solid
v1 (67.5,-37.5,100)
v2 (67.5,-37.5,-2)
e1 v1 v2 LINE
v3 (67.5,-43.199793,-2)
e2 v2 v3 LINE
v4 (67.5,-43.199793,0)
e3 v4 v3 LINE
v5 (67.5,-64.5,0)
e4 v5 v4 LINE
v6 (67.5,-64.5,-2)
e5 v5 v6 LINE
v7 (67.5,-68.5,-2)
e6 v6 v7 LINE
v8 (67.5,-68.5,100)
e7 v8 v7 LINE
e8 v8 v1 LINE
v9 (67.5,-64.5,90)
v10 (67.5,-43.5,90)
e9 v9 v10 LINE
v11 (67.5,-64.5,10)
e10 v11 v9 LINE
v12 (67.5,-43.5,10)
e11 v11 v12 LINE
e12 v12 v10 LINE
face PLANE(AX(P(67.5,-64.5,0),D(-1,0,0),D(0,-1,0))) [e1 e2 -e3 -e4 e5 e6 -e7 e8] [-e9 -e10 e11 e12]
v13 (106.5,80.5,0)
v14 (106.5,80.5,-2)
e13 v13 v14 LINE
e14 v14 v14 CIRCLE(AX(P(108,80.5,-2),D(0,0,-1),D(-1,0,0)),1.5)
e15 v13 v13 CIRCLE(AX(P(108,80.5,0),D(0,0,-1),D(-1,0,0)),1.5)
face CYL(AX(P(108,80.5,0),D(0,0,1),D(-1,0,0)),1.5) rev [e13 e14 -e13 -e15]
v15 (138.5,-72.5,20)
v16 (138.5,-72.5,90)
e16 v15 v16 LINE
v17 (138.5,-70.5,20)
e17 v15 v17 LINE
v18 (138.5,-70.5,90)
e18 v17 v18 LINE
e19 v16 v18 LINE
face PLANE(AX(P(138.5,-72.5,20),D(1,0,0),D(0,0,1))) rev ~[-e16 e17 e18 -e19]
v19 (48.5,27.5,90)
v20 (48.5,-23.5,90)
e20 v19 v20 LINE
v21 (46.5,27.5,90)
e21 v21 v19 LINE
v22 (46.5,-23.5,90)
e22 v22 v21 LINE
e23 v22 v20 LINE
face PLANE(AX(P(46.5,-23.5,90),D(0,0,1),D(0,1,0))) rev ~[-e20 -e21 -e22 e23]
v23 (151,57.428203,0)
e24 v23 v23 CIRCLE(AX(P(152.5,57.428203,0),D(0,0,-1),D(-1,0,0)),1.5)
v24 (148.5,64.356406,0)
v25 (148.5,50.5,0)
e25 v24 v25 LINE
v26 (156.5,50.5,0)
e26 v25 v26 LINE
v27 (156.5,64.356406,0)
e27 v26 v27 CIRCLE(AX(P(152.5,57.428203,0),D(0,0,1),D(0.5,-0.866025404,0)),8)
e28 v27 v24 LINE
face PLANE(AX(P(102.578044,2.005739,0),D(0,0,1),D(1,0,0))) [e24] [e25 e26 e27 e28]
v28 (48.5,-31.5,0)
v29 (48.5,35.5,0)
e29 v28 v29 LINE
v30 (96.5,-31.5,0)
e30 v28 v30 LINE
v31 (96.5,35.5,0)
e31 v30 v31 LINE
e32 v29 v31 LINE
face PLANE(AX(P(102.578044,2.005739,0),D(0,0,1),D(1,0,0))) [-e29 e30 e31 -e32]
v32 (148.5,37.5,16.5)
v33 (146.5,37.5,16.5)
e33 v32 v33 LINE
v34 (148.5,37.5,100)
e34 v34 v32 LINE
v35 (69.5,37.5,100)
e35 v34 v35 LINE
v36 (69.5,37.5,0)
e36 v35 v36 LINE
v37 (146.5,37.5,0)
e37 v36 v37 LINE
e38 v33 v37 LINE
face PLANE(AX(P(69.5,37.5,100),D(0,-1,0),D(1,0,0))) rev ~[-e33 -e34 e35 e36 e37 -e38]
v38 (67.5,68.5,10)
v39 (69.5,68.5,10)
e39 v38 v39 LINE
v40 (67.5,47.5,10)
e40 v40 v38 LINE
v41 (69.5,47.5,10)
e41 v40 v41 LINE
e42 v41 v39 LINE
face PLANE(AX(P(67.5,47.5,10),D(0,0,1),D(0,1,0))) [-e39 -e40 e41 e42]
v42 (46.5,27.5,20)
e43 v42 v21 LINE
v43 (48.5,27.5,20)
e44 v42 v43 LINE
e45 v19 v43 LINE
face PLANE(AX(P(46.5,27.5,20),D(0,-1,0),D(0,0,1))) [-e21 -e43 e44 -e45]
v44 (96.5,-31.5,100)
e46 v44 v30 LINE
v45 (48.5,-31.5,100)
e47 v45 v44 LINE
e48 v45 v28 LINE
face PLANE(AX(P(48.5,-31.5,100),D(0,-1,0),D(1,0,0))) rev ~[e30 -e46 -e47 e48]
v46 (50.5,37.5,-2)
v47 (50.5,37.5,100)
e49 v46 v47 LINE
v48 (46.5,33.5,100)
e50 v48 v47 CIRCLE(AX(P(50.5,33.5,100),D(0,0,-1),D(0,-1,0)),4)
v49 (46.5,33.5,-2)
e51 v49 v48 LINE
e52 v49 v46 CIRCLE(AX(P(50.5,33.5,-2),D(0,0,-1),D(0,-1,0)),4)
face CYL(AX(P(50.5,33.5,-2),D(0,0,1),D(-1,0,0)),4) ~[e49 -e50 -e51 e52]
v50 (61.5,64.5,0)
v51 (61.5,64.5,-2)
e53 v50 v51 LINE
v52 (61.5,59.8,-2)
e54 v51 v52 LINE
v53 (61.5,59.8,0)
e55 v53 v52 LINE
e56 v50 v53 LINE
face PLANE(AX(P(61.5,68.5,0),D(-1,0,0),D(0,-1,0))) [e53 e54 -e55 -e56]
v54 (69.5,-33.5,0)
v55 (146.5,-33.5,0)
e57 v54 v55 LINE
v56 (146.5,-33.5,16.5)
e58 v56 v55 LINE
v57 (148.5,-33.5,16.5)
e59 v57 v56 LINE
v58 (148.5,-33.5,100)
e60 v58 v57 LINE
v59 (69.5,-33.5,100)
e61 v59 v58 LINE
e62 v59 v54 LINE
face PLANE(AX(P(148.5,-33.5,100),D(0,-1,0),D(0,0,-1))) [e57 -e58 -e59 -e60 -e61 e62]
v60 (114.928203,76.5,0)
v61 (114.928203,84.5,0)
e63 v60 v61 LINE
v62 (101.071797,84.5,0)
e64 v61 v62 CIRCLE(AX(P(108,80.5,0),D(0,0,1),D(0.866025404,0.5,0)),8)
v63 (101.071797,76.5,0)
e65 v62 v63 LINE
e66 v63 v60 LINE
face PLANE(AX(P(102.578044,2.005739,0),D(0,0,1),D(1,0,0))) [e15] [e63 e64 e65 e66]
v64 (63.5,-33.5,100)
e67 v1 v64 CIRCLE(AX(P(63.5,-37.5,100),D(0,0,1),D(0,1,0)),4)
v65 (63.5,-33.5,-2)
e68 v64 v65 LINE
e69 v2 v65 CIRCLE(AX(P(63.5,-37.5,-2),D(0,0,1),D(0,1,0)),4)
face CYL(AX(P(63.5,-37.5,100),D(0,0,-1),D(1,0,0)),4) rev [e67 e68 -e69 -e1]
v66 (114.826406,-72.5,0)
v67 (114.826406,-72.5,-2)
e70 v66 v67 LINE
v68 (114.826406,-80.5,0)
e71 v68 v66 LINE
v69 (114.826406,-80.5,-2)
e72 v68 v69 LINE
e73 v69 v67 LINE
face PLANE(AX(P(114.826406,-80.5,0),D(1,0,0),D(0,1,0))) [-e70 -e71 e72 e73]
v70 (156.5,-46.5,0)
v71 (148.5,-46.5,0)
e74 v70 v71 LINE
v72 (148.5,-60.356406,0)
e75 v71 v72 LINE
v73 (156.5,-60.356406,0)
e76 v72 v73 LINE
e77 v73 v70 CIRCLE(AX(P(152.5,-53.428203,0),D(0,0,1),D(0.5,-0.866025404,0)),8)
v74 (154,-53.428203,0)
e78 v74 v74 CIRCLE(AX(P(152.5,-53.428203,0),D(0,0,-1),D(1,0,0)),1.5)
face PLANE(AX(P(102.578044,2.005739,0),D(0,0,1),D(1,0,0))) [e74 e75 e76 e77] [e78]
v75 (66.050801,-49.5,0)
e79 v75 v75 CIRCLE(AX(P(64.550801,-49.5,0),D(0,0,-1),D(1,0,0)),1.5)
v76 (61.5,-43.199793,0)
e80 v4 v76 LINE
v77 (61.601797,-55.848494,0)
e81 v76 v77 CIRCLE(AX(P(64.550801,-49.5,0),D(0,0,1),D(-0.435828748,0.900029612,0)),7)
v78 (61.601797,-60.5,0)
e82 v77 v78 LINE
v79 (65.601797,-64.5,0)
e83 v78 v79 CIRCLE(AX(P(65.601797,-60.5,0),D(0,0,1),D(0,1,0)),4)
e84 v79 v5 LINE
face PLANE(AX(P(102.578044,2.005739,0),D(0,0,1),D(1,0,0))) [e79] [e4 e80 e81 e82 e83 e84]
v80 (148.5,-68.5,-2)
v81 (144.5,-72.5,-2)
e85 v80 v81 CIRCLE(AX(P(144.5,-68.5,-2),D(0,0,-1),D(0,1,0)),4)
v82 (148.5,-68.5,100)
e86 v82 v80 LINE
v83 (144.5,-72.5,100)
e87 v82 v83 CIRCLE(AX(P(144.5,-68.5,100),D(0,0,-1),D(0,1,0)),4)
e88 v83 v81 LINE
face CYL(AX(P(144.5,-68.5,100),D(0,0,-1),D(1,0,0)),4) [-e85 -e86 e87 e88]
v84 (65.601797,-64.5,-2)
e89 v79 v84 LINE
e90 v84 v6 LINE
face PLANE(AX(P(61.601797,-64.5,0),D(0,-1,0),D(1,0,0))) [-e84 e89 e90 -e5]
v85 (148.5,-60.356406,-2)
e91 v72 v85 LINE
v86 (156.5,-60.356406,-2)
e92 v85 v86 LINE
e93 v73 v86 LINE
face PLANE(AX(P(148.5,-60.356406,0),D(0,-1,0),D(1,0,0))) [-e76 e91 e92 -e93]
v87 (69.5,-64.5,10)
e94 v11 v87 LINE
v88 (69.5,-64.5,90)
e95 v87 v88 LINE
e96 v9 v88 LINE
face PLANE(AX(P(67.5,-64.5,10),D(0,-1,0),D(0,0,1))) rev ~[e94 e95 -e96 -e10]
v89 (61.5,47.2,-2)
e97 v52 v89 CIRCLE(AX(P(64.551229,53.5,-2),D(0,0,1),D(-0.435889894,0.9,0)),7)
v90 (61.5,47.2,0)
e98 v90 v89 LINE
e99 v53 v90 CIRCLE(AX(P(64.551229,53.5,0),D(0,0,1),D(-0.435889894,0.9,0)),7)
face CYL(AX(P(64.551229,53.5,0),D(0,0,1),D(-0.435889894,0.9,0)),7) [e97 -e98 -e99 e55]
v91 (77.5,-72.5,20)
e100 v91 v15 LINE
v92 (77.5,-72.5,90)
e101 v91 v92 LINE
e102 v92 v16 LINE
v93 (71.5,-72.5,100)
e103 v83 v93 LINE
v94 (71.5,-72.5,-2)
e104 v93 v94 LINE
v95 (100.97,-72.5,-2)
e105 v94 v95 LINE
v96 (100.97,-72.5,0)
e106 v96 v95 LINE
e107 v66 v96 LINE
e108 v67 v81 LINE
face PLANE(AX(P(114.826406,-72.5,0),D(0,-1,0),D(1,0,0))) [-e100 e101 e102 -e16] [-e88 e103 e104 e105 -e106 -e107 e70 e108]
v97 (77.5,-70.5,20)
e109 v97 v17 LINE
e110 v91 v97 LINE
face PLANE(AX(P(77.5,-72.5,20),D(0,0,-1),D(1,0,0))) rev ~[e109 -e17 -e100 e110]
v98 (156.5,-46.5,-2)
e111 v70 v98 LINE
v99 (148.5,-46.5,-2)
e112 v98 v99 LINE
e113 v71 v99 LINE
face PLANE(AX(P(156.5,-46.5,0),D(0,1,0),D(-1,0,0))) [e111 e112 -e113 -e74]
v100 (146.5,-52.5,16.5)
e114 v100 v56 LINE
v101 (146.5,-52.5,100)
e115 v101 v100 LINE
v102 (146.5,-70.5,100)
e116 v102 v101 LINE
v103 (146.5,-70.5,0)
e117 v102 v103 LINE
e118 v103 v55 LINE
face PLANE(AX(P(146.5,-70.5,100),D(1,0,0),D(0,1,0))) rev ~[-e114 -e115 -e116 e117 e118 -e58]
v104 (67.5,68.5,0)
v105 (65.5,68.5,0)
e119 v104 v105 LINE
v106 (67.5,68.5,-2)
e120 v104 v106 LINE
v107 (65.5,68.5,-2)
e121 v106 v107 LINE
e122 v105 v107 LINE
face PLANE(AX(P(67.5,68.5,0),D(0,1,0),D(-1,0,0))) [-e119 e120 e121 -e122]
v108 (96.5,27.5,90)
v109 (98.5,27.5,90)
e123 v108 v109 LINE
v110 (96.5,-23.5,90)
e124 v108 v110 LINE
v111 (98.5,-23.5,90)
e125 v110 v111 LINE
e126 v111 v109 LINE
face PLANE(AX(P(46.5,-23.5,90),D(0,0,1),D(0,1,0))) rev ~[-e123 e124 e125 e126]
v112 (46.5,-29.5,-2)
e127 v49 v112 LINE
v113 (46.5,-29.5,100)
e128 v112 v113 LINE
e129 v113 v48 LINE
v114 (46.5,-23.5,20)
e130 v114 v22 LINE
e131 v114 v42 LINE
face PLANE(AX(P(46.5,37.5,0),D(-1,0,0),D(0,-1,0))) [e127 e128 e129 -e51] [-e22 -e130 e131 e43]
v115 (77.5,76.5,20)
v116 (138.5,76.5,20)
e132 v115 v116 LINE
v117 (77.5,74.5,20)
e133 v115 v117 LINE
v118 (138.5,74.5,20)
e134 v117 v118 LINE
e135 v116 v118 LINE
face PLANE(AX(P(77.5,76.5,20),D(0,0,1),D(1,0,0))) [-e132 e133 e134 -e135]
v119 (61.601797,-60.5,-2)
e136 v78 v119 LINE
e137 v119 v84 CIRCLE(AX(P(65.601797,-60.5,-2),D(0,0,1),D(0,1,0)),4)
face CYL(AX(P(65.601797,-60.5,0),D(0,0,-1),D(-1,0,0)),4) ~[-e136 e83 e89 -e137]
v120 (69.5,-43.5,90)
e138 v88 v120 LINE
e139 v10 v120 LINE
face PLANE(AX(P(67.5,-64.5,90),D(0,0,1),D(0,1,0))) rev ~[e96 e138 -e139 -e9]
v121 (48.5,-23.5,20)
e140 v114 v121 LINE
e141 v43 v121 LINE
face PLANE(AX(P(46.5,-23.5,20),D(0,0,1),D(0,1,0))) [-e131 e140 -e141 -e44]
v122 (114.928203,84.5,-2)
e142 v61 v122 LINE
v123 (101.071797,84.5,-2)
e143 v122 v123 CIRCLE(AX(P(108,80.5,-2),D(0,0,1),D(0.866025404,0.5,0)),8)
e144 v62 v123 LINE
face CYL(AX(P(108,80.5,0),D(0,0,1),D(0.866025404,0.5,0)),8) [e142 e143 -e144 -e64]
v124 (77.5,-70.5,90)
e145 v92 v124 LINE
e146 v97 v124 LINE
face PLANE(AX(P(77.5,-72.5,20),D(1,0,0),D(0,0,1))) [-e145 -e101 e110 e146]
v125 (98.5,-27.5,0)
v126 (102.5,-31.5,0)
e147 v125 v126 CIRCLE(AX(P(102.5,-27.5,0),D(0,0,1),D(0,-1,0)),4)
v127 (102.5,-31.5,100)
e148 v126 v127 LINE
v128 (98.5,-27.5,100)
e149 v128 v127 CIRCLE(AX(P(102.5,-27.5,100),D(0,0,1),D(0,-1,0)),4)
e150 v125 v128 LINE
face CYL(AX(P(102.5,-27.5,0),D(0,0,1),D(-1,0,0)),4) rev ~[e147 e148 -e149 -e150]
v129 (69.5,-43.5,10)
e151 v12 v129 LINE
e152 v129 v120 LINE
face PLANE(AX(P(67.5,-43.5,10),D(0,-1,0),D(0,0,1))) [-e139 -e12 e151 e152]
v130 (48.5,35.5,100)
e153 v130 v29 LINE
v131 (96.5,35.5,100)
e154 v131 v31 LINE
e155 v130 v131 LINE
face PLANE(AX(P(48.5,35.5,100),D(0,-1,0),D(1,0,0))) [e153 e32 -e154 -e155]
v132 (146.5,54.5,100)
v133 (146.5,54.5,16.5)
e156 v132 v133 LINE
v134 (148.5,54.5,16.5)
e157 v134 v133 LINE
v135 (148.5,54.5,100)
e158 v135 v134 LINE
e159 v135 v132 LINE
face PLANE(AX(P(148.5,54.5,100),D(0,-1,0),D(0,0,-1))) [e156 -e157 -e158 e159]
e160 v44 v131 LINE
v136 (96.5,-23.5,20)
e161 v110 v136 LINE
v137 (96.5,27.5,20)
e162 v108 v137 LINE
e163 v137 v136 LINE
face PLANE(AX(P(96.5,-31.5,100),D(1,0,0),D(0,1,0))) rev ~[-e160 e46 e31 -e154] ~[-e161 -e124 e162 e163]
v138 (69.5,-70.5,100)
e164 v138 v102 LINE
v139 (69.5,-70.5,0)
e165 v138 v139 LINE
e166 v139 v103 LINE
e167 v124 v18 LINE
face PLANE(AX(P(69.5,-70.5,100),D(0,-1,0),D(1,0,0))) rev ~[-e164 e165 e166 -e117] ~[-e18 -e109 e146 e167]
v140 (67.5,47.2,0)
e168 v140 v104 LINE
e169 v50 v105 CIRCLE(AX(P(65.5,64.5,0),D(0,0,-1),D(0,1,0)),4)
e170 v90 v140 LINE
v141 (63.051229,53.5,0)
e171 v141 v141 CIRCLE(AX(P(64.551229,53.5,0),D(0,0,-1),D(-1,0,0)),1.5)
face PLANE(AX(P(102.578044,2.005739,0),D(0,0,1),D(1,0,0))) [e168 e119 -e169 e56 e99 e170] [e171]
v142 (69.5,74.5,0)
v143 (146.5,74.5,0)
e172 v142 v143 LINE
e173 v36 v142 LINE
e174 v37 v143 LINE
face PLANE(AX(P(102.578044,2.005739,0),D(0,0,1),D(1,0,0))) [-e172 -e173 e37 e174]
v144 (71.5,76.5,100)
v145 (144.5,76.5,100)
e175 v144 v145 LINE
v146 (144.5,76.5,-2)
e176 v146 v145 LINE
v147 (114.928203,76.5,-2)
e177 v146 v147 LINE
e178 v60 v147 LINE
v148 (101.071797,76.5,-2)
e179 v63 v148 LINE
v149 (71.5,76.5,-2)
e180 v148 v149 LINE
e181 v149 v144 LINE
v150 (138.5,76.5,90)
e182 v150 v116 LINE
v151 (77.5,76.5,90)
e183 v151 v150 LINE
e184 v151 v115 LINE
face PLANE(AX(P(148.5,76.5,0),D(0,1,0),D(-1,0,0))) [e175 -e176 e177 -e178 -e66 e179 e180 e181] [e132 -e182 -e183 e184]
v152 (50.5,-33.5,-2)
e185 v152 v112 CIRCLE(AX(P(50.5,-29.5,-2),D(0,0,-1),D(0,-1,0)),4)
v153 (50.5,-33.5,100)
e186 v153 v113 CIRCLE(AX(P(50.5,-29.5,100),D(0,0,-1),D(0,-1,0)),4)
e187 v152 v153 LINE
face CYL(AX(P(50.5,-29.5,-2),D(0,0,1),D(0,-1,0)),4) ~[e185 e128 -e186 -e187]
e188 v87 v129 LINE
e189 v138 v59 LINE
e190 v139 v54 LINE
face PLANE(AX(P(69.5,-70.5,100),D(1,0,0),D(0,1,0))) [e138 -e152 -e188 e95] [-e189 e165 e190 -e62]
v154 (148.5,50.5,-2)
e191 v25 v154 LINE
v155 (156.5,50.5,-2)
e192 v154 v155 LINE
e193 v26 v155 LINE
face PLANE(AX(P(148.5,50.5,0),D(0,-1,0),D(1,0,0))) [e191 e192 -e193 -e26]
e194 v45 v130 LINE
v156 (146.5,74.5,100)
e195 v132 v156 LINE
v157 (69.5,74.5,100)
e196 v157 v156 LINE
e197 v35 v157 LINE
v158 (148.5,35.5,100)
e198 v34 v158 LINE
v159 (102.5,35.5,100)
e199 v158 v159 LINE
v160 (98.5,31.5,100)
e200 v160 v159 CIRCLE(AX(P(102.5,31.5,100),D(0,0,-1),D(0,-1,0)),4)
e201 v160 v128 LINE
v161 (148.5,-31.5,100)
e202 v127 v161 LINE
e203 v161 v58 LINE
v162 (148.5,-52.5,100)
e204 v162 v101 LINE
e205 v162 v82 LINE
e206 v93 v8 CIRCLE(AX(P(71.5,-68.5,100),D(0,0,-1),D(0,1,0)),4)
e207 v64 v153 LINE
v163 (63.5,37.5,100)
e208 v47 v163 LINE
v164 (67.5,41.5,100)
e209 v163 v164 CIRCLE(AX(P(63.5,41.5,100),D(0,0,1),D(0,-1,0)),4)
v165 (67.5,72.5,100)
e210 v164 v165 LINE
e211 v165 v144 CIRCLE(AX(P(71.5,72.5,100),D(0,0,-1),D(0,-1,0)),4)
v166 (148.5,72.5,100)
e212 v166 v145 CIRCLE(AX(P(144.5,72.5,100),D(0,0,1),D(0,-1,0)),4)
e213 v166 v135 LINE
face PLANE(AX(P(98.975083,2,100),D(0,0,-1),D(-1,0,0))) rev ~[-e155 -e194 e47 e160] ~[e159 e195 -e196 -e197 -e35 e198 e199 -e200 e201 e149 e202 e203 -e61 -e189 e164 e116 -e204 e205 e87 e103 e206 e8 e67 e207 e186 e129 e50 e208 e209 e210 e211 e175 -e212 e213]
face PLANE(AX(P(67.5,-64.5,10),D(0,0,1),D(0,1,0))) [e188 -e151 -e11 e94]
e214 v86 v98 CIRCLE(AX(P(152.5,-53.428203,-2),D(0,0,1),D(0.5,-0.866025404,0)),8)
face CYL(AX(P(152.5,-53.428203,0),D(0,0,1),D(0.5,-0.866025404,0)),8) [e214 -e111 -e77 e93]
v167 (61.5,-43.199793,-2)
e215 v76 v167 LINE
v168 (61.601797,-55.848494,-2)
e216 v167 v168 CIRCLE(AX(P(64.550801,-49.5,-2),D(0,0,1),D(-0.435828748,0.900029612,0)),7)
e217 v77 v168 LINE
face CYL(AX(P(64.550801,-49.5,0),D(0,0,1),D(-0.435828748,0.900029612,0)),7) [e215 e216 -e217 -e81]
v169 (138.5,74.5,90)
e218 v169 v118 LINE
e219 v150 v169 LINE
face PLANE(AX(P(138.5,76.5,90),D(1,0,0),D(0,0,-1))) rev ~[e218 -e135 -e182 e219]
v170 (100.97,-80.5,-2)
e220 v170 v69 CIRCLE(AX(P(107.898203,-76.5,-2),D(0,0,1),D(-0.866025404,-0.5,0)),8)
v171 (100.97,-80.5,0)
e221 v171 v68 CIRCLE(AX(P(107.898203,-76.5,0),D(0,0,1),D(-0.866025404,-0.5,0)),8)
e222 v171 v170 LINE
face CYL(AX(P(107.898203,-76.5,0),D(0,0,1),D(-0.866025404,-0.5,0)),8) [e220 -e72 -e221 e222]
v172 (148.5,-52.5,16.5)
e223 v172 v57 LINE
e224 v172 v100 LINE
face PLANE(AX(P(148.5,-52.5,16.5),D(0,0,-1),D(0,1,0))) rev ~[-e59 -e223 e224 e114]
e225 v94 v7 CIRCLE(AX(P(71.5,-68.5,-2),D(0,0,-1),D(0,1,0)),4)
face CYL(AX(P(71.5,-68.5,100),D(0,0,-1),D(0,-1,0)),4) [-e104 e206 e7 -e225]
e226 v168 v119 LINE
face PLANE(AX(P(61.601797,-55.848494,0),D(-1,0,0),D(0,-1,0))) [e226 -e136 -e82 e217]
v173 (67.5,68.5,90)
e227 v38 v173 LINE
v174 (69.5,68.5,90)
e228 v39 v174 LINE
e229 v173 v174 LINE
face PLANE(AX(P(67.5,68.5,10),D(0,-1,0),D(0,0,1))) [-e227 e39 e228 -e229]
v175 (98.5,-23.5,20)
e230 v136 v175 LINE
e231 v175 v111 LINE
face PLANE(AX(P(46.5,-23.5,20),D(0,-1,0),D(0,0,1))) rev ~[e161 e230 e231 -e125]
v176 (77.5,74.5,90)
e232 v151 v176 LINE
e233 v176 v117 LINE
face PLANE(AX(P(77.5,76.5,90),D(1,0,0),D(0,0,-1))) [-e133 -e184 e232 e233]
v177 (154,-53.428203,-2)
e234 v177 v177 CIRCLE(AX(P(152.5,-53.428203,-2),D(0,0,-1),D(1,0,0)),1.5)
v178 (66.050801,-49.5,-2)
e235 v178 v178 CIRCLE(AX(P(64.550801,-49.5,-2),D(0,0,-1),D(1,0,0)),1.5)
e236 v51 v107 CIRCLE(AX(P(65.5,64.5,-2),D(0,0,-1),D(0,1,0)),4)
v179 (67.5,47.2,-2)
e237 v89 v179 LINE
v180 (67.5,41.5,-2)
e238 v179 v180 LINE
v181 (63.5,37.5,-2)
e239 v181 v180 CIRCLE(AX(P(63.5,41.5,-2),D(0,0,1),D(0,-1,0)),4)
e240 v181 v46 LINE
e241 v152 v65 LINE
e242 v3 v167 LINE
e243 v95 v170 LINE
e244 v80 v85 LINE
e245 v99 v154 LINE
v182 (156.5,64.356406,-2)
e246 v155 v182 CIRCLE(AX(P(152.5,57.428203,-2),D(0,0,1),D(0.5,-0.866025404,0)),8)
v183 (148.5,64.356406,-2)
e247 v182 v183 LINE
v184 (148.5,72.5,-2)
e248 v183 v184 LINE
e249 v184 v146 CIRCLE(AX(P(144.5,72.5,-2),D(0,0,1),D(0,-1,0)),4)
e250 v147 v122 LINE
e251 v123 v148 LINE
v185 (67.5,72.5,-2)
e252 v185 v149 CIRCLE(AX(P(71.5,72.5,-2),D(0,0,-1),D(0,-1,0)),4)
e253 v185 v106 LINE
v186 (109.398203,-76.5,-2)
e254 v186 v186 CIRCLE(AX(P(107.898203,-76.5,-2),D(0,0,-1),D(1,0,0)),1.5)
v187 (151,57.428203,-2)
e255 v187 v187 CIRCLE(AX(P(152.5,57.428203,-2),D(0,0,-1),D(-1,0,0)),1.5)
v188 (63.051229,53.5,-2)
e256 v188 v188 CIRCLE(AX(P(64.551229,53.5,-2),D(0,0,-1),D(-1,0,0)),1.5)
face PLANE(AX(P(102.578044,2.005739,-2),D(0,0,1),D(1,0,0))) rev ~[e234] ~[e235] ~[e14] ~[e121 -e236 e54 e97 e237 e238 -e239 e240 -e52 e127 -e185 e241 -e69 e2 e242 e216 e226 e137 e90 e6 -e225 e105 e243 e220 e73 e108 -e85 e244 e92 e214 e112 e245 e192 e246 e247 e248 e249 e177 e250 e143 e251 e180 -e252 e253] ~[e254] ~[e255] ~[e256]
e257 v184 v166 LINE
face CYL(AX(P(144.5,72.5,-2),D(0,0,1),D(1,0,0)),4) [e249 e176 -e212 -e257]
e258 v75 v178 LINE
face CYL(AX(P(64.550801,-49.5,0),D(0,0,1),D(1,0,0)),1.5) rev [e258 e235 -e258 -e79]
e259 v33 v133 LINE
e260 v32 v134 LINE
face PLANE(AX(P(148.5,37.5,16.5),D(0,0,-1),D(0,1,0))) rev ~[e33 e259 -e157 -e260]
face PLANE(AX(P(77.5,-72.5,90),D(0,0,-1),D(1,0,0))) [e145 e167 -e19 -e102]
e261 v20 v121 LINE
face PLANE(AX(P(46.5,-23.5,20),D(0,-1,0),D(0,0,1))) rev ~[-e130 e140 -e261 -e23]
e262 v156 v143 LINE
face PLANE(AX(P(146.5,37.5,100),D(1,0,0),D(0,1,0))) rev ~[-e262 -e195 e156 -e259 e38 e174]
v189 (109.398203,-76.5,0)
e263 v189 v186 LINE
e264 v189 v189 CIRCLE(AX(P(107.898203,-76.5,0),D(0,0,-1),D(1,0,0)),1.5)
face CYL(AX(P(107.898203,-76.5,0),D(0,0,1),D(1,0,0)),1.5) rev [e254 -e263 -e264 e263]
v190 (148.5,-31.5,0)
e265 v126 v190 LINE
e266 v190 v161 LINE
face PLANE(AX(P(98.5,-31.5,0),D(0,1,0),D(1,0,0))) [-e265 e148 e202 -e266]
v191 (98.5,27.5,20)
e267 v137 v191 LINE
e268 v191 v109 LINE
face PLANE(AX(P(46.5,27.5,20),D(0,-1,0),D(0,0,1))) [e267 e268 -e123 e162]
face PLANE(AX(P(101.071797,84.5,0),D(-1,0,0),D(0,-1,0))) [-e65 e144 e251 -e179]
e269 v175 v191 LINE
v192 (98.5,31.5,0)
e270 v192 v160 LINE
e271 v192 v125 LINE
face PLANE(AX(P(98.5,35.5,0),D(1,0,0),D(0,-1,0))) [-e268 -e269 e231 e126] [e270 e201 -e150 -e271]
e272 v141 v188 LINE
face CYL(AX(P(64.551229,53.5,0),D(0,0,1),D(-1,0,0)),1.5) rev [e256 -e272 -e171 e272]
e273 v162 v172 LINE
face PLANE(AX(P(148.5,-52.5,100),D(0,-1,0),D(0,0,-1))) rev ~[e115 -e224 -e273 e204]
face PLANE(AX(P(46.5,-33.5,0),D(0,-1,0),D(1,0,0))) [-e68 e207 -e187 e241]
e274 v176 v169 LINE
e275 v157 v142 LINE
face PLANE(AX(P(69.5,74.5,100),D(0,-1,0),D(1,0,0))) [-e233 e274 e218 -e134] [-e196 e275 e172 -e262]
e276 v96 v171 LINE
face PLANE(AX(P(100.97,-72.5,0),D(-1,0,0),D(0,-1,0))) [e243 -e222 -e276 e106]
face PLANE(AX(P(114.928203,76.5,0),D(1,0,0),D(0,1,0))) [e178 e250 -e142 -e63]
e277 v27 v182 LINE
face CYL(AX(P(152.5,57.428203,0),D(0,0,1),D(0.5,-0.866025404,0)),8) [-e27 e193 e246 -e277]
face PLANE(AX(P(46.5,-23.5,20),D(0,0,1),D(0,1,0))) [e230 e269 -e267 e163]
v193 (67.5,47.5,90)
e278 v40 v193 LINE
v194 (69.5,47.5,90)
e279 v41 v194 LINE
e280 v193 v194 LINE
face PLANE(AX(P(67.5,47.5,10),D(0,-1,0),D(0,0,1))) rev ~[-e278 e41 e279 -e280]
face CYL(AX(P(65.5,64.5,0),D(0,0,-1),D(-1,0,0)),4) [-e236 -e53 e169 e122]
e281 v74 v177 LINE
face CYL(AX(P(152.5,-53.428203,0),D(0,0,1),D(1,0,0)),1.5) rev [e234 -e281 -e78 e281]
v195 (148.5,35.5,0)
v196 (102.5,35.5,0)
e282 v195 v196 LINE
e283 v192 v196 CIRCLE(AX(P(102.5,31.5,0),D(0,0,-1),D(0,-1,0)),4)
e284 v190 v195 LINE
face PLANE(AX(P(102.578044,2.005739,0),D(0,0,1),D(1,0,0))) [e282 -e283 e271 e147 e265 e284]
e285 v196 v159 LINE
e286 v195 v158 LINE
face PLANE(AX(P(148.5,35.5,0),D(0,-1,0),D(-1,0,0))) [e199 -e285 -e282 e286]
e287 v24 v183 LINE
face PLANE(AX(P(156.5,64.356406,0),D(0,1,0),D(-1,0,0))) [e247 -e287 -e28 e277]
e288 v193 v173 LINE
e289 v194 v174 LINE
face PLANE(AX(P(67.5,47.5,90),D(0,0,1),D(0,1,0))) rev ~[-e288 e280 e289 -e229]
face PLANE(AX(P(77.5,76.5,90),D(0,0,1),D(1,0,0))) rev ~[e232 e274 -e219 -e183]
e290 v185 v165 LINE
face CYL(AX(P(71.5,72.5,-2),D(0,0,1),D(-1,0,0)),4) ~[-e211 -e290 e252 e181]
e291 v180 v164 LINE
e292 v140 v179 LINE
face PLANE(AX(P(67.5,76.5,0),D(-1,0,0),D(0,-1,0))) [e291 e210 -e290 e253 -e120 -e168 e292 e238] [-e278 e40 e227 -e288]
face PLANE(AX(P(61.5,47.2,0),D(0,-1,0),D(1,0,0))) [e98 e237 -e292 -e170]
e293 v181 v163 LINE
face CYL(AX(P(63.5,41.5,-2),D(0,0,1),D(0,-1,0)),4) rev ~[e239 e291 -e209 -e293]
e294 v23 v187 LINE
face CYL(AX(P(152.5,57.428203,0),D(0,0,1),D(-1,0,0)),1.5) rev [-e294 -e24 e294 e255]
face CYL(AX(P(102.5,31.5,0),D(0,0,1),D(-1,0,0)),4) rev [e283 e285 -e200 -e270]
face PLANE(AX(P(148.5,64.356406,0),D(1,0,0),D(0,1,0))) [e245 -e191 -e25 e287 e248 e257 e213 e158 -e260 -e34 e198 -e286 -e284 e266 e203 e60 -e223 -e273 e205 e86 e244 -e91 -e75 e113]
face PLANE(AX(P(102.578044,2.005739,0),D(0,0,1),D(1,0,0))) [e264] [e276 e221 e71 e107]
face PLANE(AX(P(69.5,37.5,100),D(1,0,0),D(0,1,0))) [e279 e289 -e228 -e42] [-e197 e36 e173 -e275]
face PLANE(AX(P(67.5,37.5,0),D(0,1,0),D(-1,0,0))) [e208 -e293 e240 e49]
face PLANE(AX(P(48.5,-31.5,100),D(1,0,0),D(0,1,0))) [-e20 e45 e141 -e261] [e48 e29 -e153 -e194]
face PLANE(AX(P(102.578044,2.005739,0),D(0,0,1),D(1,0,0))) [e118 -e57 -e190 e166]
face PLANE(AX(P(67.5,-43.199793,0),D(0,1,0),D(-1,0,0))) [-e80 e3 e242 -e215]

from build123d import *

# Parameters (mm, degrees)
BOSS_EXTRU_9_DEPTH       = 100
ESQUISSE31_W             = 77
ESQUISSE31_H             = 37
ESQUISSE31_W_2           = 48
ESQUISSE31_H_2           = 67
ENL_V_MAT_EXTRU_17_DEPTH = 100
ESQUISSE35_W             = 61
ESQUISSE35_H             = 70
ENL_V_MAT_EXTRU_20_DEPTH = 2
ESQUISSE37_W             = 70
ESQUISSE37_H             = 51
ENL_V_MAT_EXTRU_22_DEPTH = 52
ESQUISSE38_W             = 61
ESQUISSE38_H             = 70
ENL_V_MAT_EXTRU_23_DEPTH = 2
ESQUISSE36_W             = 80
ESQUISSE36_H             = 21
ENL_V_MAT_EXTRU_25_DEPTH = 2
ESQUISSE39_W             = 83.5
ESQUISSE39_H             = 17
ESQUISSE39_H_2           = 19
ENL_V_MAT_EXTRU_26_DEPTH = 2
ESQUISSE46_R             = 1.5
BOSS_EXTRU_10_DEPTH      = 2
CONG_59_R                = 4


with BuildPart() as part:
    # Esquisse27 → Boss.-Extru.9 (new body)
    with BuildSketch(Plane.XY):
        Polygon((148.5, -72.5), (67.5, -72.5), (67.5, -33.5), (46.5, -33.5), (46.5, 37.5), (67.5, 37.5), (67.5, 76.5), (148.5, 76.5), (148.5, 35.5), (98.5, 35.5), (98.5, -31.5), (148.5, -31.5), align=None)
    extrude(amount=BOSS_EXTRU_9_DEPTH)

    # Esquisse31 → Enlèv. mat.-Extru.17 (cut)
    with BuildSketch(Plane.XY.offset(100)):
        with Locations((108, 56)):
            Rectangle(ESQUISSE31_W, ESQUISSE31_H)
        with Locations((72.5, 2)):
            Rectangle(ESQUISSE31_W_2, ESQUISSE31_H_2)
        with Locations((108, -52)):
            Rectangle(ESQUISSE31_W, ESQUISSE31_H)
    extrude(amount=-ENL_V_MAT_EXTRU_17_DEPTH, mode=Mode.SUBTRACT)

    # Esquisse35 → Enlèv. mat.-Extru.20 (cut)
    with BuildSketch(Plane.XZ.offset(72.5)):
        with Locations((108, 55)):
            Rectangle(ESQUISSE35_W, ESQUISSE35_H)
    extrude(amount=-ENL_V_MAT_EXTRU_20_DEPTH, mode=Mode.SUBTRACT)

    # Esquisse37 → Enlèv. mat.-Extru.22 (cut)
    with BuildSketch(Plane.ZY.offset(-46.5)):
        with Locations((55, 2)):
            Rectangle(ESQUISSE37_W, ESQUISSE37_H)
    extrude(amount=-ENL_V_MAT_EXTRU_22_DEPTH, mode=Mode.SUBTRACT)

    # Esquisse38 → Enlèv. mat.-Extru.23 (cut)
    with BuildSketch(Plane(origin=(0, 76.5, 0), x_dir=(1, 0, 0), z_dir=(0, 1, 0))):
        with Locations((108, -55)):
            Rectangle(ESQUISSE38_W, ESQUISSE38_H)
    extrude(amount=-ENL_V_MAT_EXTRU_23_DEPTH, mode=Mode.SUBTRACT)

    # Esquisse36 → Enlèv. mat.-Extru.25 (cut)
    with BuildSketch(Plane.ZY.offset(-67.5)):
        with Locations((50, 58)):
            Rectangle(ESQUISSE36_W, ESQUISSE36_H)
        with Locations((50, -54)):
            Rectangle(ESQUISSE36_W, ESQUISSE36_H)
    extrude(amount=-ENL_V_MAT_EXTRU_25_DEPTH, mode=Mode.SUBTRACT)

    # Esquisse39 → Enlèv. mat.-Extru.26 (cut)
    with BuildSketch(Plane(origin=(148.5, 0, 0), x_dir=(0, 0, -1), z_dir=(1, 0, 0))):
        with Locations((-58.25, 46)):
            Rectangle(ESQUISSE39_W, ESQUISSE39_H)
        with Locations((-58.25, -43)):
            Rectangle(ESQUISSE39_W, ESQUISSE39_H_2)
    extrude(amount=-ENL_V_MAT_EXTRU_26_DEPTH, mode=Mode.SUBTRACT)

    # Esquisse46 → Boss.-Extru.10 (add)
    with BuildSketch(Plane(origin=(0, 0, 0), x_dir=(-1, 0, 0), z_dir=(0, 0, -1))):
        with BuildLine():
            Line((-148.5, 64.356406461), (-148.5, 76.5))
            Line((-148.5, 76.5), (-114.92820323, 76.5))
            Line((-114.92820323, 76.5), (-114.92820323, 84.5))
            ThreePointArc((-114.92820323, 84.5), (-108, 88.5), (-101.07179677, 84.5))
            Line((-101.07179677, 84.5), (-101.07179677, 76.5))
            Line((-101.07179677, 76.5), (-67.5, 76.5))
            Line((-67.5, 76.5), (-67.5, 68.5))
            Line((-67.5, 68.5), (-61.5, 68.5))
            Line((-61.5, 68.5), (-61.5, 59.8))
            ThreePointArc((-61.5, 59.8), (-57.55122926, 53.5), (-61.5, 47.2))
            Line((-61.5, 47.2), (-67.5, 47.2))
            Line((-67.5, 47.2), (-67.5, 37.5))
            Line((-67.5, 37.5), (-46.5, 37.5))
            Line((-46.5, 37.5), (-46.5, -33.5))
            Line((-46.5, -33.5), (-67.5, -33.5))
            Line((-67.5, -33.5), (-67.5, -43.199792715))
            Line((-67.5, -43.199792715), (-61.5, -43.199792715))
            ThreePointArc((-61.5, -43.199792715), (-57.551027919, -49.556334189), (-61.60179677, -55.848493732))
            Line((-61.60179677, -55.848493732), (-61.60179677, -64.5))
            Line((-61.60179677, -64.5), (-67.5, -64.5))
            Line((-67.5, -64.5), (-67.5, -72.5))
            Line((-67.5, -72.5), (-100.97, -72.5))
            Line((-100.97, -72.5), (-100.97, -80.5))
            ThreePointArc((-100.97, -80.5), (-107.89820323, -84.5), (-114.826406461, -80.5))
            Line((-114.826406461, -80.5), (-114.826406461, -72.5))
            Line((-114.826406461, -72.5), (-148.5, -72.5))
            Line((-148.5, -72.5), (-148.5, -60.356406461))
            Line((-148.5, -60.356406461), (-156.5, -60.356406461))
            ThreePointArc((-156.5, -60.356406461), (-160.5, -53.42820323), (-156.5, -46.5))
            Line((-156.5, -46.5), (-148.5, -46.5))
            Line((-148.5, -46.5), (-148.5, 50.5))
            Line((-148.5, 50.5), (-156.5, 50.5))
            ThreePointArc((-156.5, 50.5), (-160.5, 57.42820323), (-156.5, 64.356406461))
            Line((-156.5, 64.356406461), (-148.5, 64.356406461))
        make_face()
        with Locations((-108, 80.5)):
            Circle(ESQUISSE46_R, mode=Mode.SUBTRACT)
        with Locations((-152.5, 57.42820323)):
            Circle(ESQUISSE46_R, mode=Mode.SUBTRACT)
        with Locations((-64.55122926, 53.5)):
            Circle(ESQUISSE46_R, mode=Mode.SUBTRACT)
        with Locations(Location((-64.550801234, -49.5, 0), (0, 0, 180))):
            Circle(ESQUISSE46_R, mode=Mode.SUBTRACT)
        with Locations(Location((-152.5, -53.42820323, 0), (0, 0, 180))):
            Circle(ESQUISSE46_R, mode=Mode.SUBTRACT)
        with Locations(Location((-107.89820323, -76.5, 0), (0, 0, 180))):
            Circle(ESQUISSE46_R, mode=Mode.SUBTRACT)
    extrude(amount=BOSS_EXTRU_10_DEPTH)

    # Congé59
    cong_59_edges = [part.edges().sort_by_distance(p)[0] for p in [
        (98.5, 35.5, 50),
        (98.5, -31.5, 50),
        (148.5, -72.5, 49),
        (67.5, -72.5, 49),
        (67.5, -33.5, 49),
        (46.5, -33.5, 49),
        (46.5, 37.5, 49),
        (67.5, 37.5, 49),
        (67.5, 76.5, 49),
        (148.5, 76.5, 49),
        (61.5, 68.5, -1),
        (61.60179677, -64.5, -1),
    ]]
    fillet(cong_59_edges, radius=CONG_59_R)


solid = part.part
